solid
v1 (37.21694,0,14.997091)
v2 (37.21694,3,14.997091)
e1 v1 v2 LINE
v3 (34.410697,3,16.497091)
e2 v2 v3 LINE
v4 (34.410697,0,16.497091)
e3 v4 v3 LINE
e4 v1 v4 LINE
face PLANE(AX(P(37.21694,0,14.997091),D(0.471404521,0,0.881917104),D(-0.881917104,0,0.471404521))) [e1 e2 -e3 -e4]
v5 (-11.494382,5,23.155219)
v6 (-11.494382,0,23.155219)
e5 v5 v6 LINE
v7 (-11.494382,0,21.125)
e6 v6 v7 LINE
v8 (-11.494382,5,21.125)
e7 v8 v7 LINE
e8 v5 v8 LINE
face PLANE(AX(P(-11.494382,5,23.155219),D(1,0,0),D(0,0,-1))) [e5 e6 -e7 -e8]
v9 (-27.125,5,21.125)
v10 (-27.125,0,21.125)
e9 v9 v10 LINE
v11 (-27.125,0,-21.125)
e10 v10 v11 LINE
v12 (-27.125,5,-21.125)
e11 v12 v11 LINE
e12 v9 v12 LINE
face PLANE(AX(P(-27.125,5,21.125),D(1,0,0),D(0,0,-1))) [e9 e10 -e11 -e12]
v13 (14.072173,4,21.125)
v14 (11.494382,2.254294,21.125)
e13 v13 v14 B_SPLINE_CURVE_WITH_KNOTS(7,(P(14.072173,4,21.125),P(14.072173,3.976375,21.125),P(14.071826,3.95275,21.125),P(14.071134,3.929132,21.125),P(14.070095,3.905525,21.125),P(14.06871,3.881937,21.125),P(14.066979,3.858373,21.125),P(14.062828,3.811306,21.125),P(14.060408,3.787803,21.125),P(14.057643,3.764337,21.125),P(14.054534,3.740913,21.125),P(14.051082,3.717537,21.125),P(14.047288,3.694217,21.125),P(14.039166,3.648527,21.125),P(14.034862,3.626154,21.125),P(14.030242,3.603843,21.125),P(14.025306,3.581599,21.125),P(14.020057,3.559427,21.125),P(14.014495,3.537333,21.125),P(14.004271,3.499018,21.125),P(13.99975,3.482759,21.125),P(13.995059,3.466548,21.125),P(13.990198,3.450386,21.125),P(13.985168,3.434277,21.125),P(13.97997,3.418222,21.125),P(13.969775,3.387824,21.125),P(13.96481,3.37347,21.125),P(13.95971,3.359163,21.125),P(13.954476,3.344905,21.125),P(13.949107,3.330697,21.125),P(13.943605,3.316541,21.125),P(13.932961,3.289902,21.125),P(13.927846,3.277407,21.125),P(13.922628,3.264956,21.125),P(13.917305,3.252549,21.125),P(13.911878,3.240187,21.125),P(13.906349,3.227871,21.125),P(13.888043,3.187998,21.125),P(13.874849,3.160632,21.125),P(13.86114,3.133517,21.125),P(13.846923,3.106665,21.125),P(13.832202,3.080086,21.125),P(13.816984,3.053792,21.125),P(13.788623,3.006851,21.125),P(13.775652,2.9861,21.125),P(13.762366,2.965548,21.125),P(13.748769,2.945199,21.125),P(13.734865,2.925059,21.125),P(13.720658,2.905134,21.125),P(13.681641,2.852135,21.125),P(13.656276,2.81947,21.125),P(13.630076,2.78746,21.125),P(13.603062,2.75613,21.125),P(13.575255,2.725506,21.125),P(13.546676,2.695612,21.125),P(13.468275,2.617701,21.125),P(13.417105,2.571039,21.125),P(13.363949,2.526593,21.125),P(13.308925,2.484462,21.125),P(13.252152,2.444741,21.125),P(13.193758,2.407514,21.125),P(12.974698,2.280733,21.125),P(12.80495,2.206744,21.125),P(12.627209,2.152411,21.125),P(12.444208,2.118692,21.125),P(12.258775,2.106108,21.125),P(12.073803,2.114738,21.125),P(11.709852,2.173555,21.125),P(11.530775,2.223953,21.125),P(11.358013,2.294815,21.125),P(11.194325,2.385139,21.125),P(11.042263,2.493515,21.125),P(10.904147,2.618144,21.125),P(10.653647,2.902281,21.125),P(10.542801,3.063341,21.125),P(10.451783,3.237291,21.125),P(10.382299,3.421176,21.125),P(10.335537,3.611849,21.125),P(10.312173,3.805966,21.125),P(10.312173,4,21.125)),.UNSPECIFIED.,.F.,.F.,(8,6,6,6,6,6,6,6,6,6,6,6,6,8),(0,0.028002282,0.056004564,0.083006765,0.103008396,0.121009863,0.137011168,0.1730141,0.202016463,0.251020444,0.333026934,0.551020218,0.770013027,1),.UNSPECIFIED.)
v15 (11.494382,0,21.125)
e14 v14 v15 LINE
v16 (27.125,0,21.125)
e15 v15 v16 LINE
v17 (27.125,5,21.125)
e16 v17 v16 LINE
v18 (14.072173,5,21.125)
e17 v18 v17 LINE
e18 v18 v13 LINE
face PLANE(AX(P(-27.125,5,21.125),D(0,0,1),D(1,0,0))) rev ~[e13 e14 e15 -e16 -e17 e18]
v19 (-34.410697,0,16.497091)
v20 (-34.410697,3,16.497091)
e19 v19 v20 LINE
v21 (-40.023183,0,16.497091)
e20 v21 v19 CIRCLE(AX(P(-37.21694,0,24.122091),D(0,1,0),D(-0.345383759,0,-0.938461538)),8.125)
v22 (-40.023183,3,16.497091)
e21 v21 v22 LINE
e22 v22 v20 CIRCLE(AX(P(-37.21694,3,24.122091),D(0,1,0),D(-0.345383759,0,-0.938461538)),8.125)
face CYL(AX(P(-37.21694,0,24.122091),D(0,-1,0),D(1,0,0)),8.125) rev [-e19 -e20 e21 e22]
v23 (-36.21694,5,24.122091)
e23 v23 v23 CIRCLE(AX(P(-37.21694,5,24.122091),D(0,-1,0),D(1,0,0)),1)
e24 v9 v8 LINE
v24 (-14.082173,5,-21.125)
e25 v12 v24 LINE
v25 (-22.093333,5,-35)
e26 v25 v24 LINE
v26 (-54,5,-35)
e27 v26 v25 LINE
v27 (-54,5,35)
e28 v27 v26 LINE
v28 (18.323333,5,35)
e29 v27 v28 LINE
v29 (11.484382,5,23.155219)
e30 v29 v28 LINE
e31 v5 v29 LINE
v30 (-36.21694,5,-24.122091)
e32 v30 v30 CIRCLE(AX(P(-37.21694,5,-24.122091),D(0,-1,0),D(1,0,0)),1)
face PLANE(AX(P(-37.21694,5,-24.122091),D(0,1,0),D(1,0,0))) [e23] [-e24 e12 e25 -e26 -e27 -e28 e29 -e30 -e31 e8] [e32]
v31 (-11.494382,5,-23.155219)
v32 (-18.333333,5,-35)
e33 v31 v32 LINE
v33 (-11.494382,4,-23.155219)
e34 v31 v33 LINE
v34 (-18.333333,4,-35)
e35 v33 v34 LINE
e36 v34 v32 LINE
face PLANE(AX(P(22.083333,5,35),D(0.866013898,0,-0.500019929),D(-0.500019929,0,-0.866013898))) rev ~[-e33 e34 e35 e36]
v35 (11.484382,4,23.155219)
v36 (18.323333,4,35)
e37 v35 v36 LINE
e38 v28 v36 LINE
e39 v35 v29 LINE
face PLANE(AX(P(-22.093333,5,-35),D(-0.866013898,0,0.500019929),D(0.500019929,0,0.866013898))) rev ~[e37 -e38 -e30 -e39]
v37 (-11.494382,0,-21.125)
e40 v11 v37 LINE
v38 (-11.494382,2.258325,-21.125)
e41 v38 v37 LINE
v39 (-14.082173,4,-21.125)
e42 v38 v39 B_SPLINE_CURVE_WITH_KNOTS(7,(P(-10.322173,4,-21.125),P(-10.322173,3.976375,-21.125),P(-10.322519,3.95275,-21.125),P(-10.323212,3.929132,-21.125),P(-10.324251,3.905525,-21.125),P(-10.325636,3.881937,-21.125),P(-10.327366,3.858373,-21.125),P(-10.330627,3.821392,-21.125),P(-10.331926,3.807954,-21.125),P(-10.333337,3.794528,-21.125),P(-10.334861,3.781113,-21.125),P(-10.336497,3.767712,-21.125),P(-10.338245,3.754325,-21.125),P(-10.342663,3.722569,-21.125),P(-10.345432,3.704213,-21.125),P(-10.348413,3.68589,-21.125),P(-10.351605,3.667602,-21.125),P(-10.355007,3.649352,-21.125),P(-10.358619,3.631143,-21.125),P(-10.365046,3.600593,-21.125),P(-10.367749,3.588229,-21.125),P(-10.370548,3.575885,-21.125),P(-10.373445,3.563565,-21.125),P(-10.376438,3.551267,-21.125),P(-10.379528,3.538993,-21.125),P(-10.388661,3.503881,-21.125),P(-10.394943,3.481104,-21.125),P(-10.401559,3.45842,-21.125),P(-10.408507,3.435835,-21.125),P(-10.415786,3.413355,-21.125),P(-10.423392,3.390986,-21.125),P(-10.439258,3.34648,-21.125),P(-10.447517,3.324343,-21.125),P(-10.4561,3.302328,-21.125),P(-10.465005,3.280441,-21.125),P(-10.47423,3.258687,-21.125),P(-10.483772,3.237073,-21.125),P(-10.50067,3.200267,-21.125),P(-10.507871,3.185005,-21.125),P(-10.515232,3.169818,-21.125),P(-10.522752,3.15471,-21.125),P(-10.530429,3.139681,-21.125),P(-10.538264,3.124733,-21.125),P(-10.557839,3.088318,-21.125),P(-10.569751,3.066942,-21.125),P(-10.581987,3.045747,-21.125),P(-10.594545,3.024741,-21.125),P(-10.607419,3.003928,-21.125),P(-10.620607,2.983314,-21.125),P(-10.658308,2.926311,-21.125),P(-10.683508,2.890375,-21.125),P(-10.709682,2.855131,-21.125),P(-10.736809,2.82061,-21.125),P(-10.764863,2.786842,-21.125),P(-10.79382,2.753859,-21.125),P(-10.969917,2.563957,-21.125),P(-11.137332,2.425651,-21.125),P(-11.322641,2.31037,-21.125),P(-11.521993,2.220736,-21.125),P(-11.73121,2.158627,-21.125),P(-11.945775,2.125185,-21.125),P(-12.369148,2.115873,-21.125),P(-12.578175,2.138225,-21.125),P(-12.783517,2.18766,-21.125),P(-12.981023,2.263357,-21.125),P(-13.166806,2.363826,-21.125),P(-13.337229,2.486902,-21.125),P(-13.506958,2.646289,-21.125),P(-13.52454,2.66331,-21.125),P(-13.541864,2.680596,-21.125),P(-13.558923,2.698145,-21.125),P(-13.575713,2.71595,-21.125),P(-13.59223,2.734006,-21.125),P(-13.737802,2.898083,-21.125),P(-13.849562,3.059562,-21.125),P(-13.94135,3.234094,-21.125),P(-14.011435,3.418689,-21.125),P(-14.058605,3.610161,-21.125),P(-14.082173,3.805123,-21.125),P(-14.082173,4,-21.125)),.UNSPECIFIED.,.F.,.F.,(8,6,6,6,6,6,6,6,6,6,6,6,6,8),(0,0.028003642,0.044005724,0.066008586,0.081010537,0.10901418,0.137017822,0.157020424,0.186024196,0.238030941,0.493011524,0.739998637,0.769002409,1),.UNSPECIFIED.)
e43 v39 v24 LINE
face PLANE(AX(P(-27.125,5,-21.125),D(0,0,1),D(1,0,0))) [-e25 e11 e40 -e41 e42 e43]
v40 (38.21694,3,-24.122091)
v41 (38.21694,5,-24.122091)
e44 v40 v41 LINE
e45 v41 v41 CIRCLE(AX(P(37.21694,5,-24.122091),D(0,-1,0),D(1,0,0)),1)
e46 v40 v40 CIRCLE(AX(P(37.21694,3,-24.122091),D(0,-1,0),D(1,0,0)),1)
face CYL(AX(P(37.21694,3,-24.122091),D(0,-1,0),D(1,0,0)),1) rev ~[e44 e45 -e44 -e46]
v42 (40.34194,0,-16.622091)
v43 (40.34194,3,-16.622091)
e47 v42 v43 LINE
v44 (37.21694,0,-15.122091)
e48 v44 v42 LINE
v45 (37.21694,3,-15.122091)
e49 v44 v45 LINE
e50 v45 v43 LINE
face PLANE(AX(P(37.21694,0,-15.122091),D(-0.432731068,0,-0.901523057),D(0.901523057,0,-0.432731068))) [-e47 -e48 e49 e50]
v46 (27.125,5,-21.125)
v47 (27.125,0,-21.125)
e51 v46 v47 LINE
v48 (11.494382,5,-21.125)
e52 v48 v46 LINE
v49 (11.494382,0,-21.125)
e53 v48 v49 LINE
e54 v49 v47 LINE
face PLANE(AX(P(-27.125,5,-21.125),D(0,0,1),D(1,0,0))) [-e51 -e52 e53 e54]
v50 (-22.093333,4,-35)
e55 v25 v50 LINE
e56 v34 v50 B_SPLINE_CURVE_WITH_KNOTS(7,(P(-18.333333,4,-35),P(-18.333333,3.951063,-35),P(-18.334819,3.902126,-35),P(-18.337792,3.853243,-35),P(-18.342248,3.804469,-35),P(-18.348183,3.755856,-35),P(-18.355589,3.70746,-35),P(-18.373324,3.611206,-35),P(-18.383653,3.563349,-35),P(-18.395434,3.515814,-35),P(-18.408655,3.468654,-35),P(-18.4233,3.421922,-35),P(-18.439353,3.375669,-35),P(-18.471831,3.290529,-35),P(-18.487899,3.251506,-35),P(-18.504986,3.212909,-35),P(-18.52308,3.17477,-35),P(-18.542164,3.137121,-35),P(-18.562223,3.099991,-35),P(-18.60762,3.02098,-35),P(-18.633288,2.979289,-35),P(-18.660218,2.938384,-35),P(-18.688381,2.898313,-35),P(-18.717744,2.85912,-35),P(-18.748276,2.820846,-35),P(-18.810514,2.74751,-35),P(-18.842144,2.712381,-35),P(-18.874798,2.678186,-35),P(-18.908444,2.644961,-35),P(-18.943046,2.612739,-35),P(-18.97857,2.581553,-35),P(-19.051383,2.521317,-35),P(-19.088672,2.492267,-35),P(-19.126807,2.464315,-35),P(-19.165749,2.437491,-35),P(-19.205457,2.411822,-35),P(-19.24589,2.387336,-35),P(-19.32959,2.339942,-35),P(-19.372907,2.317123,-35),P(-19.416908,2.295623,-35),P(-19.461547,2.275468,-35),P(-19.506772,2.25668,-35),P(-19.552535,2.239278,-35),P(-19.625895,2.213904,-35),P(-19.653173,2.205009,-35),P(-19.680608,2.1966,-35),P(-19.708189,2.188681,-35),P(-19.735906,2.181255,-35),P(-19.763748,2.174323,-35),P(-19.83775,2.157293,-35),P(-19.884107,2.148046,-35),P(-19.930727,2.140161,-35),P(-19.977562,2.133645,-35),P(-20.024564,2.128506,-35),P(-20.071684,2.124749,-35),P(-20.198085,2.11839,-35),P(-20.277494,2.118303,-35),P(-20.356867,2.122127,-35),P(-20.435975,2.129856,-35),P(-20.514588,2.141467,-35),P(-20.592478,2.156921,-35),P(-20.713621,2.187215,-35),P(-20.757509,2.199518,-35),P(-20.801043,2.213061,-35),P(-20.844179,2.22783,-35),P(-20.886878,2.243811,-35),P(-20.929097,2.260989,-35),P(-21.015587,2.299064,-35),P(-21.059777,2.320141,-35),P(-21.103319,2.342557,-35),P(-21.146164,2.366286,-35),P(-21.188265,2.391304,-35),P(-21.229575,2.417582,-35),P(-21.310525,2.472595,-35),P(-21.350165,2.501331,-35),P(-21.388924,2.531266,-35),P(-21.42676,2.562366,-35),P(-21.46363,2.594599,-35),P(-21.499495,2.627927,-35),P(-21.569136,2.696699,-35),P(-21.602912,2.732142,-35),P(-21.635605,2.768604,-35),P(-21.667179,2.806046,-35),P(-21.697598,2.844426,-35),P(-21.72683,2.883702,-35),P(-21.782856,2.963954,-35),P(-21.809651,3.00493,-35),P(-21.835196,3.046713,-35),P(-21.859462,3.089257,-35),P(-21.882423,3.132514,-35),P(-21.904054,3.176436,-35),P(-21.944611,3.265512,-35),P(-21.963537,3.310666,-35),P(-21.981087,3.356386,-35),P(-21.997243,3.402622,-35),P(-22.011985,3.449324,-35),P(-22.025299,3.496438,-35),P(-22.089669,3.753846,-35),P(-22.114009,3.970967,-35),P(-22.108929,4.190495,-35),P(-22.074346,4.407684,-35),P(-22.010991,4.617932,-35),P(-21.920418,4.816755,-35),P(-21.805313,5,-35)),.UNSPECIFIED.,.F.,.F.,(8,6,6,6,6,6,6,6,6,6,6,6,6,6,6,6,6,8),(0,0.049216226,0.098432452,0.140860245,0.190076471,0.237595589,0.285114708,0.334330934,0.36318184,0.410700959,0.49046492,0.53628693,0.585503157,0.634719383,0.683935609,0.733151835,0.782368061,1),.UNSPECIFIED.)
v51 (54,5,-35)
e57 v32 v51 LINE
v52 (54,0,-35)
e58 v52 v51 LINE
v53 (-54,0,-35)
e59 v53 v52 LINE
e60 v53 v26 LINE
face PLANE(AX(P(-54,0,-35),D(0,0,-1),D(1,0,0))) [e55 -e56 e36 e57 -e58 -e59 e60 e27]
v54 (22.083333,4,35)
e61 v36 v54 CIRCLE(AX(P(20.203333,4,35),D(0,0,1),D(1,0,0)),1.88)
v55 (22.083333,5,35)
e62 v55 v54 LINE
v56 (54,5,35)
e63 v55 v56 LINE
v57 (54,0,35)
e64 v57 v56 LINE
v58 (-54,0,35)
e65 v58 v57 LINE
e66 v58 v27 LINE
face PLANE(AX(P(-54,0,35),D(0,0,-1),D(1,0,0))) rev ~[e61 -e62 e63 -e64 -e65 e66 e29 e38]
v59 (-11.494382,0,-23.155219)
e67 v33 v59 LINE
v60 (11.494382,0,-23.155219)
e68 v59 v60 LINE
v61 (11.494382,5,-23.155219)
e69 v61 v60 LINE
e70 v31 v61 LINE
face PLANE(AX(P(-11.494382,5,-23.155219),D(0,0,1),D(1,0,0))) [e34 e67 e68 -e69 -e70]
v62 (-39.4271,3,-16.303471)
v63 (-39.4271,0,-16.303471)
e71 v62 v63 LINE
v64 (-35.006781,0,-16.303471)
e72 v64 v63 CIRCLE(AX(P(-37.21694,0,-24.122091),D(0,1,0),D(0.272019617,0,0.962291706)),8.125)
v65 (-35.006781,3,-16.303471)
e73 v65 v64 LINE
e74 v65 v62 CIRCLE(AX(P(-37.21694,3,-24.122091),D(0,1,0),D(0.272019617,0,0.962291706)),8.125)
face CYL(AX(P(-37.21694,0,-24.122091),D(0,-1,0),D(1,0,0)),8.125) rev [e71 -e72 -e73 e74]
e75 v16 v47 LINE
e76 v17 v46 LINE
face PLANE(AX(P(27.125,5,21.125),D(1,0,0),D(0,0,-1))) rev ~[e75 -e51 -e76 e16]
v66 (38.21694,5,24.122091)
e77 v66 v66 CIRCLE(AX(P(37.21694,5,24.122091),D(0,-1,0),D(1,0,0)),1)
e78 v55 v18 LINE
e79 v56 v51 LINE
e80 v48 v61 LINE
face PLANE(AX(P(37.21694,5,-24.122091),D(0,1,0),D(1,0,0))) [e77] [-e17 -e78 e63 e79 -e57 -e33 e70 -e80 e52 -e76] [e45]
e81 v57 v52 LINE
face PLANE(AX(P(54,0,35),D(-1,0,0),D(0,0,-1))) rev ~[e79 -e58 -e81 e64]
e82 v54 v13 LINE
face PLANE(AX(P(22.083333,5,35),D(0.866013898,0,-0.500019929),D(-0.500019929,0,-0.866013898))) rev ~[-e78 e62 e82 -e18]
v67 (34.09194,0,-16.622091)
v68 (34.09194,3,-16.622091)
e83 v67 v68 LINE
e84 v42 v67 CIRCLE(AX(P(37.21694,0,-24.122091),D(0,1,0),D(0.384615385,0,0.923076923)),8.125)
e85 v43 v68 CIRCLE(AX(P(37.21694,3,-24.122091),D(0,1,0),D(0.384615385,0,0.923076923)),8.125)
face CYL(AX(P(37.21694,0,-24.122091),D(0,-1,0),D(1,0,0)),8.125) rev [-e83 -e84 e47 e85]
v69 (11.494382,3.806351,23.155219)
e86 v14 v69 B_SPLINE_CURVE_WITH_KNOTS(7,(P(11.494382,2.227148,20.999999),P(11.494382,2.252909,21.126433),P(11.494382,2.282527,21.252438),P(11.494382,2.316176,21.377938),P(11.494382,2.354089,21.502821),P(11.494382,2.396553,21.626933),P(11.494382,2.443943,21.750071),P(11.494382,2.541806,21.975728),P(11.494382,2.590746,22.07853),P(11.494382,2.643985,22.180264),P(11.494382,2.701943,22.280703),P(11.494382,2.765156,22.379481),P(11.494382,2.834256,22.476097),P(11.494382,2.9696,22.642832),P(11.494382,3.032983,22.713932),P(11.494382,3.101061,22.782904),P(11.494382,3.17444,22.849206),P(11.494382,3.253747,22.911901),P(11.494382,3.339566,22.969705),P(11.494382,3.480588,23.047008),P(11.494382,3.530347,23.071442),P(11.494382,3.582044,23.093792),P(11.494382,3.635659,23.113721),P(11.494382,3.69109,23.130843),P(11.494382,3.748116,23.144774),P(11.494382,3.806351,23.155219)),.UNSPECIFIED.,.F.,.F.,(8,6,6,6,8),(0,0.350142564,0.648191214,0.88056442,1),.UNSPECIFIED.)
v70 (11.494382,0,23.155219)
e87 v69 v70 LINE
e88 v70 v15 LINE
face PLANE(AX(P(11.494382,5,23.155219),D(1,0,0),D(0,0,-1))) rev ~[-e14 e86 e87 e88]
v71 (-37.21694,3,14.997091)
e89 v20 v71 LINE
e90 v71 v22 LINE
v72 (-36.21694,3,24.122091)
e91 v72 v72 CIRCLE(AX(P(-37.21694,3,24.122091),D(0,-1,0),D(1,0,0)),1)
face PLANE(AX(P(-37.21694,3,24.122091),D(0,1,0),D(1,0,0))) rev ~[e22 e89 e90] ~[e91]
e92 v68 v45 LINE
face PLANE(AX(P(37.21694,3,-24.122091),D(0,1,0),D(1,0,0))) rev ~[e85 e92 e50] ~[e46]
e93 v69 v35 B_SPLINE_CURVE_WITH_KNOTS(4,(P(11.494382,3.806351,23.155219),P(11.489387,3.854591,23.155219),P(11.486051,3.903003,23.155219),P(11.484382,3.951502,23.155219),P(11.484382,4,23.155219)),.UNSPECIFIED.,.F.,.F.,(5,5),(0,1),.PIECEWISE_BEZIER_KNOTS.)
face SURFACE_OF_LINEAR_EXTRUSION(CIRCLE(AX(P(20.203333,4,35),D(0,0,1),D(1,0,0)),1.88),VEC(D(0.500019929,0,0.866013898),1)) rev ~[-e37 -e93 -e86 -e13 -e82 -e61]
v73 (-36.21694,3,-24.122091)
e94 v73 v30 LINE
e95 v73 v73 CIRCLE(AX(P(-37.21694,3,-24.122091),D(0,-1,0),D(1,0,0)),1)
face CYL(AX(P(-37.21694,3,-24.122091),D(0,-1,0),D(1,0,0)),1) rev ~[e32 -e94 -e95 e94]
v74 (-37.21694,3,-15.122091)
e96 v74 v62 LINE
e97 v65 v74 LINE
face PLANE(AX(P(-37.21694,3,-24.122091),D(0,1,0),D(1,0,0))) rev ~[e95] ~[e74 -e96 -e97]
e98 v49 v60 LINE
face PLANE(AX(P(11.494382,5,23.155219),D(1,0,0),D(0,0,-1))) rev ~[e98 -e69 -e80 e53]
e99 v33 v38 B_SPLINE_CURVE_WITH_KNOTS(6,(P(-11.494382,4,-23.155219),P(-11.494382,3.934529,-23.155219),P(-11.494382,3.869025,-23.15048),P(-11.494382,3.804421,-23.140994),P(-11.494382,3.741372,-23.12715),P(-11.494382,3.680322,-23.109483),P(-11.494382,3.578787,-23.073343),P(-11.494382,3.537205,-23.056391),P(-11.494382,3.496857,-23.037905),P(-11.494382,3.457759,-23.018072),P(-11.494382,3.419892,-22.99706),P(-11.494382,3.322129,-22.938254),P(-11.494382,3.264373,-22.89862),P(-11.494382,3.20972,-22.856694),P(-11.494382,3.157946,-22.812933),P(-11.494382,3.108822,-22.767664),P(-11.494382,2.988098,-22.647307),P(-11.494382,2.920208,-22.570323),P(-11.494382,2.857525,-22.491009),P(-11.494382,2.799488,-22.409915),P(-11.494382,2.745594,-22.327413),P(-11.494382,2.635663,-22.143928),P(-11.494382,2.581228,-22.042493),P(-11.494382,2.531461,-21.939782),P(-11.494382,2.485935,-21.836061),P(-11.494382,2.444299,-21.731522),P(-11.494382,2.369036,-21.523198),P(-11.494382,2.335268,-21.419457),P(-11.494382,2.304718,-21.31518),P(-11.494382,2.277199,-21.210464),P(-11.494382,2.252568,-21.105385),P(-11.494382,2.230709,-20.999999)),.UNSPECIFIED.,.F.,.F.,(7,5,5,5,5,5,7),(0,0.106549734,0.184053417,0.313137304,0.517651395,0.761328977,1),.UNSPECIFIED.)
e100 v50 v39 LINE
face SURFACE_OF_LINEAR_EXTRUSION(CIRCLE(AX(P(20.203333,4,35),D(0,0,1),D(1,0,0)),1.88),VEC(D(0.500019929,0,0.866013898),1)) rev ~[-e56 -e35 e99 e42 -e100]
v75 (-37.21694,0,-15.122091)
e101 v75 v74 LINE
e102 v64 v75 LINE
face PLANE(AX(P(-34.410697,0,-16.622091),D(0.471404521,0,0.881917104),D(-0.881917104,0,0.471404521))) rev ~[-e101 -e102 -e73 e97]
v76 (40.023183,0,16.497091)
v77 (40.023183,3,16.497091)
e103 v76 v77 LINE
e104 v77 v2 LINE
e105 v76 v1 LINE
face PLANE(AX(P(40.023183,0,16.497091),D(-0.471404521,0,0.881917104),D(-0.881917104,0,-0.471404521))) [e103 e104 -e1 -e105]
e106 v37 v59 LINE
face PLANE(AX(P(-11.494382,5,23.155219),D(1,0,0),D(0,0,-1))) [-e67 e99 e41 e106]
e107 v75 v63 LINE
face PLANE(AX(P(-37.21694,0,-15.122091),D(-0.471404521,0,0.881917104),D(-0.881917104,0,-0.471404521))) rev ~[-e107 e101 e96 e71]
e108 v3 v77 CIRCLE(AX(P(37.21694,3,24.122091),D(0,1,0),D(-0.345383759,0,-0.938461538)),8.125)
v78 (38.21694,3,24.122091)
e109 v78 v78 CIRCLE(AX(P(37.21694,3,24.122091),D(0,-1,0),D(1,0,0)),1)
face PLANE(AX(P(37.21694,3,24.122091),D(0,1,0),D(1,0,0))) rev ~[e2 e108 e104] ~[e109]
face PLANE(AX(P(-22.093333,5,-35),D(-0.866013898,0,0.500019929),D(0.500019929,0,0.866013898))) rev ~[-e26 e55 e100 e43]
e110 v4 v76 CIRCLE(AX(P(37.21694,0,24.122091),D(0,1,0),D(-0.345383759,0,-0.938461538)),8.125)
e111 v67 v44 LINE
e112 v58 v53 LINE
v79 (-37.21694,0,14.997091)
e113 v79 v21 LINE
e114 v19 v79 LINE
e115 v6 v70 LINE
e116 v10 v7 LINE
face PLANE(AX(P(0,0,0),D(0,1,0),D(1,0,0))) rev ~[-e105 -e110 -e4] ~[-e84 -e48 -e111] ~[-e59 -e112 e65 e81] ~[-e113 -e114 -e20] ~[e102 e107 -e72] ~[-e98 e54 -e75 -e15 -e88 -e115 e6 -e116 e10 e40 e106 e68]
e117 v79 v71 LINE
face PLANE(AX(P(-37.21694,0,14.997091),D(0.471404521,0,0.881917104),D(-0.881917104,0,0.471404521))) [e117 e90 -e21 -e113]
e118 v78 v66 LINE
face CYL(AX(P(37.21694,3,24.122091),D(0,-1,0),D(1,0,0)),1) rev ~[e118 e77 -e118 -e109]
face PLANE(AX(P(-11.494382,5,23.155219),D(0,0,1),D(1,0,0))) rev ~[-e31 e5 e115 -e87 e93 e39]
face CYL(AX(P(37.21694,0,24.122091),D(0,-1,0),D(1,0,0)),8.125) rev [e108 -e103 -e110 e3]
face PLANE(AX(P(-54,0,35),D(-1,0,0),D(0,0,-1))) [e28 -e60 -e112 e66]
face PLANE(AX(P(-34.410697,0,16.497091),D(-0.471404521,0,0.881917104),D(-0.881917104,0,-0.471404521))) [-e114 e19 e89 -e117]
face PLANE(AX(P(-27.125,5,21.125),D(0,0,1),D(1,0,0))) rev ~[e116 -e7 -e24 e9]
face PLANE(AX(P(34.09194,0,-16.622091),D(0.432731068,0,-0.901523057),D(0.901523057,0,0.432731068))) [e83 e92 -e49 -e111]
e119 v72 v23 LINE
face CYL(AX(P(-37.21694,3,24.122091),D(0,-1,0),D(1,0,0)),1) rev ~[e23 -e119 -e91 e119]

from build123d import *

# Parameters (mm, degrees)
SCHIZZO1_W                   = 108
SCHIZZO1_H                   = 70
SCHIZZO1_R                   = 8.125
ESTRUSIONE_ESTRUSIONE2_DEPTH = 5
TAGLIO_ESTRUSIONE4_DEPTH     = 1
SCHIZZO8_R                   = 1.88
TAGLIO_ESTRUSIONE5_DEPTH     = 95
SCHIZZO9_W                   = 54
SCHIZZO9_H                   = 42
TAGLIO_ESTRUSIONE6_DEPTH     = 10
SCHIZZO10_W                  = 22.988764944
SCHIZZO10_H                  = 46.310438252
TAGLIO_ESTRUSIONE7_DEPTH     = 10
SCHIZZO11_W                  = 54.25
SCHIZZO11_H                  = 42.25
TAGLIO_ESTRUSIONE8_DEPTH     = 10
SCHIZZO14_R                  = 8.125
ESTRUSIONE_ESTRUSIONE3_DEPTH = 2
SCHIZZO15_R                  = 8.125
ESTRUSIONE_ESTRUSIONE4_DEPTH = 2
TAGLIO_ESTRUSIONE10_DEPTH    = 3
SCHIZZO17_R                  = 1
TAGLIO_ESTRUSIONE11_DEPTH    = 3


with BuildPart() as part:
    # Schizzo1 → Estrusione-Estrusione2 (new body)
    with BuildSketch(Plane(origin=(0, 0, 0), x_dir=(1, 0, 0), z_dir=(0, 1, 0))):
        Rectangle(SCHIZZO1_W, SCHIZZO1_H)
        with Locations((-37.216940269, -24.122090915)):
            Circle(SCHIZZO1_R, mode=Mode.SUBTRACT)
        with Locations((-37.216940269, 24.122090915)):
            Circle(SCHIZZO1_R, mode=Mode.SUBTRACT)
        with Locations((37.216940269, 24.122090915)):
            Circle(SCHIZZO1_R, mode=Mode.SUBTRACT)
        with Locations((37.216940269, -24.122090915)):
            Circle(SCHIZZO1_R, mode=Mode.SUBTRACT)
        with BuildLine():
            Line((16.970562748, 21), (-16.970562748, 21))
            ThreePointArc((-16.970562748, 21), (-27, 0), (-16.970562748, -21))
            Line((-16.970562748, -21), (16.970562748, -21))
            ThreePointArc((16.970562748, -21), (27, 0), (16.970562748, 21))
        make_face(mode=Mode.SUBTRACT)
    extrude(amount=ESTRUSIONE_ESTRUSIONE2_DEPTH)

    # Schizzo5 → Taglio-Estrusione4 (cut)
    with BuildSketch(Plane(origin=(0, 5, 0), x_dir=(1, 0, 0), z_dir=(0, 1, 0))):
        Polygon((-22.093333333, 35), (18.323333333, -35), (22.083333333, -35), (-18.333333333, 35), align=None)
    extrude(amount=-TAGLIO_ESTRUSIONE4_DEPTH, mode=Mode.SUBTRACT)

    # Schizzo8 → Taglio-Estrusione5 (cut, along a direction that is not the sketch's normal)
    with BuildSketch(Plane.XY.offset(35)):
        with Locations((20.203333333, 4)):
            Circle(SCHIZZO8_R)
    extrude(amount=-TAGLIO_ESTRUSIONE5_DEPTH, dir=(0.500019929, 0, 0.866013898), mode=Mode.SUBTRACT)

    # Schizzo9 → Taglio-Estrusione6 (cut)
    with BuildSketch(Plane(origin=(0, 5, 0), x_dir=(1, 0, 0), z_dir=(0, 1, 0))):
        Rectangle(SCHIZZO9_W, SCHIZZO9_H)
    extrude(amount=-TAGLIO_ESTRUSIONE6_DEPTH, mode=Mode.SUBTRACT)

    # Schizzo10 → Taglio-Estrusione7 (cut)
    with BuildSketch(Plane(origin=(0, 5, 0), x_dir=(1, 0, 0), z_dir=(0, 1, 0))):
        Rectangle(SCHIZZO10_W, SCHIZZO10_H)
    extrude(amount=-TAGLIO_ESTRUSIONE7_DEPTH, mode=Mode.SUBTRACT)

    # Schizzo11 → Taglio-Estrusione8 (cut)
    with BuildSketch(Plane(origin=(0, 5, 0), x_dir=(1, 0, 0), z_dir=(0, 1, 0))):
        Rectangle(SCHIZZO11_W, SCHIZZO11_H)
    extrude(amount=-TAGLIO_ESTRUSIONE8_DEPTH, mode=Mode.SUBTRACT)

    # Schizzo14 → Estrusione-Estrusione3 (add)
    with BuildSketch(Plane(origin=(0, 5, 0), x_dir=(1, 0, 0), z_dir=(0, 1, 0))):
        with Locations((37.216940269, 24.122090915)):
            Circle(SCHIZZO14_R)
        with Locations((37.216940269, -24.122090915)):
            Circle(SCHIZZO14_R)
    extrude(amount=-ESTRUSIONE_ESTRUSIONE3_DEPTH)

    # Schizzo15 → Estrusione-Estrusione4 (add)
    with BuildSketch(Plane(origin=(0, 5, 0), x_dir=(1, 0, 0), z_dir=(0, 1, 0))):
        with Locations((-37.216940269, 24.122090915)):
            Circle(SCHIZZO15_R)
        with Locations((-37.216940269, -24.122090915)):
            Circle(SCHIZZO15_R)
    extrude(amount=-ESTRUSIONE_ESTRUSIONE4_DEPTH)

    # Schizzo16 → Taglio-Estrusione10 (cut)
    with BuildSketch(Plane.XZ):
        Polygon((-40.023183309, 16.497090915), (-34.410697229, 16.497090915), (-37.216940269, 14.997090915), align=None)
        Polygon((-40.023183309, -16.622090915), (-34.410697229, -16.622090915), (-37.216940269, -15.122090915), align=None)
        Polygon((34.410697229, 16.497090915), (40.023183309, 16.497090915), (37.216940269, 14.997090915), align=None)
        Polygon((34.091940269, -16.622090915), (37.216940269, -15.122090915), (40.341940269, -16.622090915), align=None)
    extrude(amount=-TAGLIO_ESTRUSIONE10_DEPTH, mode=Mode.SUBTRACT)

    # Schizzo17 → Taglio-Estrusione11 (cut)
    with BuildSketch(Plane.XZ.offset(-3)):
        with Locations((-37.216940269, 24.122090915)):
            Circle(SCHIZZO17_R)
        with Locations((37.216940269, 24.122090915)):
            Circle(SCHIZZO17_R)
        with Locations((37.216940269, -24.122090915)):
            Circle(SCHIZZO17_R)
        with Locations((-37.216940269, -24.122090915)):
            Circle(SCHIZZO17_R)
    extrude(amount=-TAGLIO_ESTRUSIONE11_DEPTH, mode=Mode.SUBTRACT)


solid = part.part
